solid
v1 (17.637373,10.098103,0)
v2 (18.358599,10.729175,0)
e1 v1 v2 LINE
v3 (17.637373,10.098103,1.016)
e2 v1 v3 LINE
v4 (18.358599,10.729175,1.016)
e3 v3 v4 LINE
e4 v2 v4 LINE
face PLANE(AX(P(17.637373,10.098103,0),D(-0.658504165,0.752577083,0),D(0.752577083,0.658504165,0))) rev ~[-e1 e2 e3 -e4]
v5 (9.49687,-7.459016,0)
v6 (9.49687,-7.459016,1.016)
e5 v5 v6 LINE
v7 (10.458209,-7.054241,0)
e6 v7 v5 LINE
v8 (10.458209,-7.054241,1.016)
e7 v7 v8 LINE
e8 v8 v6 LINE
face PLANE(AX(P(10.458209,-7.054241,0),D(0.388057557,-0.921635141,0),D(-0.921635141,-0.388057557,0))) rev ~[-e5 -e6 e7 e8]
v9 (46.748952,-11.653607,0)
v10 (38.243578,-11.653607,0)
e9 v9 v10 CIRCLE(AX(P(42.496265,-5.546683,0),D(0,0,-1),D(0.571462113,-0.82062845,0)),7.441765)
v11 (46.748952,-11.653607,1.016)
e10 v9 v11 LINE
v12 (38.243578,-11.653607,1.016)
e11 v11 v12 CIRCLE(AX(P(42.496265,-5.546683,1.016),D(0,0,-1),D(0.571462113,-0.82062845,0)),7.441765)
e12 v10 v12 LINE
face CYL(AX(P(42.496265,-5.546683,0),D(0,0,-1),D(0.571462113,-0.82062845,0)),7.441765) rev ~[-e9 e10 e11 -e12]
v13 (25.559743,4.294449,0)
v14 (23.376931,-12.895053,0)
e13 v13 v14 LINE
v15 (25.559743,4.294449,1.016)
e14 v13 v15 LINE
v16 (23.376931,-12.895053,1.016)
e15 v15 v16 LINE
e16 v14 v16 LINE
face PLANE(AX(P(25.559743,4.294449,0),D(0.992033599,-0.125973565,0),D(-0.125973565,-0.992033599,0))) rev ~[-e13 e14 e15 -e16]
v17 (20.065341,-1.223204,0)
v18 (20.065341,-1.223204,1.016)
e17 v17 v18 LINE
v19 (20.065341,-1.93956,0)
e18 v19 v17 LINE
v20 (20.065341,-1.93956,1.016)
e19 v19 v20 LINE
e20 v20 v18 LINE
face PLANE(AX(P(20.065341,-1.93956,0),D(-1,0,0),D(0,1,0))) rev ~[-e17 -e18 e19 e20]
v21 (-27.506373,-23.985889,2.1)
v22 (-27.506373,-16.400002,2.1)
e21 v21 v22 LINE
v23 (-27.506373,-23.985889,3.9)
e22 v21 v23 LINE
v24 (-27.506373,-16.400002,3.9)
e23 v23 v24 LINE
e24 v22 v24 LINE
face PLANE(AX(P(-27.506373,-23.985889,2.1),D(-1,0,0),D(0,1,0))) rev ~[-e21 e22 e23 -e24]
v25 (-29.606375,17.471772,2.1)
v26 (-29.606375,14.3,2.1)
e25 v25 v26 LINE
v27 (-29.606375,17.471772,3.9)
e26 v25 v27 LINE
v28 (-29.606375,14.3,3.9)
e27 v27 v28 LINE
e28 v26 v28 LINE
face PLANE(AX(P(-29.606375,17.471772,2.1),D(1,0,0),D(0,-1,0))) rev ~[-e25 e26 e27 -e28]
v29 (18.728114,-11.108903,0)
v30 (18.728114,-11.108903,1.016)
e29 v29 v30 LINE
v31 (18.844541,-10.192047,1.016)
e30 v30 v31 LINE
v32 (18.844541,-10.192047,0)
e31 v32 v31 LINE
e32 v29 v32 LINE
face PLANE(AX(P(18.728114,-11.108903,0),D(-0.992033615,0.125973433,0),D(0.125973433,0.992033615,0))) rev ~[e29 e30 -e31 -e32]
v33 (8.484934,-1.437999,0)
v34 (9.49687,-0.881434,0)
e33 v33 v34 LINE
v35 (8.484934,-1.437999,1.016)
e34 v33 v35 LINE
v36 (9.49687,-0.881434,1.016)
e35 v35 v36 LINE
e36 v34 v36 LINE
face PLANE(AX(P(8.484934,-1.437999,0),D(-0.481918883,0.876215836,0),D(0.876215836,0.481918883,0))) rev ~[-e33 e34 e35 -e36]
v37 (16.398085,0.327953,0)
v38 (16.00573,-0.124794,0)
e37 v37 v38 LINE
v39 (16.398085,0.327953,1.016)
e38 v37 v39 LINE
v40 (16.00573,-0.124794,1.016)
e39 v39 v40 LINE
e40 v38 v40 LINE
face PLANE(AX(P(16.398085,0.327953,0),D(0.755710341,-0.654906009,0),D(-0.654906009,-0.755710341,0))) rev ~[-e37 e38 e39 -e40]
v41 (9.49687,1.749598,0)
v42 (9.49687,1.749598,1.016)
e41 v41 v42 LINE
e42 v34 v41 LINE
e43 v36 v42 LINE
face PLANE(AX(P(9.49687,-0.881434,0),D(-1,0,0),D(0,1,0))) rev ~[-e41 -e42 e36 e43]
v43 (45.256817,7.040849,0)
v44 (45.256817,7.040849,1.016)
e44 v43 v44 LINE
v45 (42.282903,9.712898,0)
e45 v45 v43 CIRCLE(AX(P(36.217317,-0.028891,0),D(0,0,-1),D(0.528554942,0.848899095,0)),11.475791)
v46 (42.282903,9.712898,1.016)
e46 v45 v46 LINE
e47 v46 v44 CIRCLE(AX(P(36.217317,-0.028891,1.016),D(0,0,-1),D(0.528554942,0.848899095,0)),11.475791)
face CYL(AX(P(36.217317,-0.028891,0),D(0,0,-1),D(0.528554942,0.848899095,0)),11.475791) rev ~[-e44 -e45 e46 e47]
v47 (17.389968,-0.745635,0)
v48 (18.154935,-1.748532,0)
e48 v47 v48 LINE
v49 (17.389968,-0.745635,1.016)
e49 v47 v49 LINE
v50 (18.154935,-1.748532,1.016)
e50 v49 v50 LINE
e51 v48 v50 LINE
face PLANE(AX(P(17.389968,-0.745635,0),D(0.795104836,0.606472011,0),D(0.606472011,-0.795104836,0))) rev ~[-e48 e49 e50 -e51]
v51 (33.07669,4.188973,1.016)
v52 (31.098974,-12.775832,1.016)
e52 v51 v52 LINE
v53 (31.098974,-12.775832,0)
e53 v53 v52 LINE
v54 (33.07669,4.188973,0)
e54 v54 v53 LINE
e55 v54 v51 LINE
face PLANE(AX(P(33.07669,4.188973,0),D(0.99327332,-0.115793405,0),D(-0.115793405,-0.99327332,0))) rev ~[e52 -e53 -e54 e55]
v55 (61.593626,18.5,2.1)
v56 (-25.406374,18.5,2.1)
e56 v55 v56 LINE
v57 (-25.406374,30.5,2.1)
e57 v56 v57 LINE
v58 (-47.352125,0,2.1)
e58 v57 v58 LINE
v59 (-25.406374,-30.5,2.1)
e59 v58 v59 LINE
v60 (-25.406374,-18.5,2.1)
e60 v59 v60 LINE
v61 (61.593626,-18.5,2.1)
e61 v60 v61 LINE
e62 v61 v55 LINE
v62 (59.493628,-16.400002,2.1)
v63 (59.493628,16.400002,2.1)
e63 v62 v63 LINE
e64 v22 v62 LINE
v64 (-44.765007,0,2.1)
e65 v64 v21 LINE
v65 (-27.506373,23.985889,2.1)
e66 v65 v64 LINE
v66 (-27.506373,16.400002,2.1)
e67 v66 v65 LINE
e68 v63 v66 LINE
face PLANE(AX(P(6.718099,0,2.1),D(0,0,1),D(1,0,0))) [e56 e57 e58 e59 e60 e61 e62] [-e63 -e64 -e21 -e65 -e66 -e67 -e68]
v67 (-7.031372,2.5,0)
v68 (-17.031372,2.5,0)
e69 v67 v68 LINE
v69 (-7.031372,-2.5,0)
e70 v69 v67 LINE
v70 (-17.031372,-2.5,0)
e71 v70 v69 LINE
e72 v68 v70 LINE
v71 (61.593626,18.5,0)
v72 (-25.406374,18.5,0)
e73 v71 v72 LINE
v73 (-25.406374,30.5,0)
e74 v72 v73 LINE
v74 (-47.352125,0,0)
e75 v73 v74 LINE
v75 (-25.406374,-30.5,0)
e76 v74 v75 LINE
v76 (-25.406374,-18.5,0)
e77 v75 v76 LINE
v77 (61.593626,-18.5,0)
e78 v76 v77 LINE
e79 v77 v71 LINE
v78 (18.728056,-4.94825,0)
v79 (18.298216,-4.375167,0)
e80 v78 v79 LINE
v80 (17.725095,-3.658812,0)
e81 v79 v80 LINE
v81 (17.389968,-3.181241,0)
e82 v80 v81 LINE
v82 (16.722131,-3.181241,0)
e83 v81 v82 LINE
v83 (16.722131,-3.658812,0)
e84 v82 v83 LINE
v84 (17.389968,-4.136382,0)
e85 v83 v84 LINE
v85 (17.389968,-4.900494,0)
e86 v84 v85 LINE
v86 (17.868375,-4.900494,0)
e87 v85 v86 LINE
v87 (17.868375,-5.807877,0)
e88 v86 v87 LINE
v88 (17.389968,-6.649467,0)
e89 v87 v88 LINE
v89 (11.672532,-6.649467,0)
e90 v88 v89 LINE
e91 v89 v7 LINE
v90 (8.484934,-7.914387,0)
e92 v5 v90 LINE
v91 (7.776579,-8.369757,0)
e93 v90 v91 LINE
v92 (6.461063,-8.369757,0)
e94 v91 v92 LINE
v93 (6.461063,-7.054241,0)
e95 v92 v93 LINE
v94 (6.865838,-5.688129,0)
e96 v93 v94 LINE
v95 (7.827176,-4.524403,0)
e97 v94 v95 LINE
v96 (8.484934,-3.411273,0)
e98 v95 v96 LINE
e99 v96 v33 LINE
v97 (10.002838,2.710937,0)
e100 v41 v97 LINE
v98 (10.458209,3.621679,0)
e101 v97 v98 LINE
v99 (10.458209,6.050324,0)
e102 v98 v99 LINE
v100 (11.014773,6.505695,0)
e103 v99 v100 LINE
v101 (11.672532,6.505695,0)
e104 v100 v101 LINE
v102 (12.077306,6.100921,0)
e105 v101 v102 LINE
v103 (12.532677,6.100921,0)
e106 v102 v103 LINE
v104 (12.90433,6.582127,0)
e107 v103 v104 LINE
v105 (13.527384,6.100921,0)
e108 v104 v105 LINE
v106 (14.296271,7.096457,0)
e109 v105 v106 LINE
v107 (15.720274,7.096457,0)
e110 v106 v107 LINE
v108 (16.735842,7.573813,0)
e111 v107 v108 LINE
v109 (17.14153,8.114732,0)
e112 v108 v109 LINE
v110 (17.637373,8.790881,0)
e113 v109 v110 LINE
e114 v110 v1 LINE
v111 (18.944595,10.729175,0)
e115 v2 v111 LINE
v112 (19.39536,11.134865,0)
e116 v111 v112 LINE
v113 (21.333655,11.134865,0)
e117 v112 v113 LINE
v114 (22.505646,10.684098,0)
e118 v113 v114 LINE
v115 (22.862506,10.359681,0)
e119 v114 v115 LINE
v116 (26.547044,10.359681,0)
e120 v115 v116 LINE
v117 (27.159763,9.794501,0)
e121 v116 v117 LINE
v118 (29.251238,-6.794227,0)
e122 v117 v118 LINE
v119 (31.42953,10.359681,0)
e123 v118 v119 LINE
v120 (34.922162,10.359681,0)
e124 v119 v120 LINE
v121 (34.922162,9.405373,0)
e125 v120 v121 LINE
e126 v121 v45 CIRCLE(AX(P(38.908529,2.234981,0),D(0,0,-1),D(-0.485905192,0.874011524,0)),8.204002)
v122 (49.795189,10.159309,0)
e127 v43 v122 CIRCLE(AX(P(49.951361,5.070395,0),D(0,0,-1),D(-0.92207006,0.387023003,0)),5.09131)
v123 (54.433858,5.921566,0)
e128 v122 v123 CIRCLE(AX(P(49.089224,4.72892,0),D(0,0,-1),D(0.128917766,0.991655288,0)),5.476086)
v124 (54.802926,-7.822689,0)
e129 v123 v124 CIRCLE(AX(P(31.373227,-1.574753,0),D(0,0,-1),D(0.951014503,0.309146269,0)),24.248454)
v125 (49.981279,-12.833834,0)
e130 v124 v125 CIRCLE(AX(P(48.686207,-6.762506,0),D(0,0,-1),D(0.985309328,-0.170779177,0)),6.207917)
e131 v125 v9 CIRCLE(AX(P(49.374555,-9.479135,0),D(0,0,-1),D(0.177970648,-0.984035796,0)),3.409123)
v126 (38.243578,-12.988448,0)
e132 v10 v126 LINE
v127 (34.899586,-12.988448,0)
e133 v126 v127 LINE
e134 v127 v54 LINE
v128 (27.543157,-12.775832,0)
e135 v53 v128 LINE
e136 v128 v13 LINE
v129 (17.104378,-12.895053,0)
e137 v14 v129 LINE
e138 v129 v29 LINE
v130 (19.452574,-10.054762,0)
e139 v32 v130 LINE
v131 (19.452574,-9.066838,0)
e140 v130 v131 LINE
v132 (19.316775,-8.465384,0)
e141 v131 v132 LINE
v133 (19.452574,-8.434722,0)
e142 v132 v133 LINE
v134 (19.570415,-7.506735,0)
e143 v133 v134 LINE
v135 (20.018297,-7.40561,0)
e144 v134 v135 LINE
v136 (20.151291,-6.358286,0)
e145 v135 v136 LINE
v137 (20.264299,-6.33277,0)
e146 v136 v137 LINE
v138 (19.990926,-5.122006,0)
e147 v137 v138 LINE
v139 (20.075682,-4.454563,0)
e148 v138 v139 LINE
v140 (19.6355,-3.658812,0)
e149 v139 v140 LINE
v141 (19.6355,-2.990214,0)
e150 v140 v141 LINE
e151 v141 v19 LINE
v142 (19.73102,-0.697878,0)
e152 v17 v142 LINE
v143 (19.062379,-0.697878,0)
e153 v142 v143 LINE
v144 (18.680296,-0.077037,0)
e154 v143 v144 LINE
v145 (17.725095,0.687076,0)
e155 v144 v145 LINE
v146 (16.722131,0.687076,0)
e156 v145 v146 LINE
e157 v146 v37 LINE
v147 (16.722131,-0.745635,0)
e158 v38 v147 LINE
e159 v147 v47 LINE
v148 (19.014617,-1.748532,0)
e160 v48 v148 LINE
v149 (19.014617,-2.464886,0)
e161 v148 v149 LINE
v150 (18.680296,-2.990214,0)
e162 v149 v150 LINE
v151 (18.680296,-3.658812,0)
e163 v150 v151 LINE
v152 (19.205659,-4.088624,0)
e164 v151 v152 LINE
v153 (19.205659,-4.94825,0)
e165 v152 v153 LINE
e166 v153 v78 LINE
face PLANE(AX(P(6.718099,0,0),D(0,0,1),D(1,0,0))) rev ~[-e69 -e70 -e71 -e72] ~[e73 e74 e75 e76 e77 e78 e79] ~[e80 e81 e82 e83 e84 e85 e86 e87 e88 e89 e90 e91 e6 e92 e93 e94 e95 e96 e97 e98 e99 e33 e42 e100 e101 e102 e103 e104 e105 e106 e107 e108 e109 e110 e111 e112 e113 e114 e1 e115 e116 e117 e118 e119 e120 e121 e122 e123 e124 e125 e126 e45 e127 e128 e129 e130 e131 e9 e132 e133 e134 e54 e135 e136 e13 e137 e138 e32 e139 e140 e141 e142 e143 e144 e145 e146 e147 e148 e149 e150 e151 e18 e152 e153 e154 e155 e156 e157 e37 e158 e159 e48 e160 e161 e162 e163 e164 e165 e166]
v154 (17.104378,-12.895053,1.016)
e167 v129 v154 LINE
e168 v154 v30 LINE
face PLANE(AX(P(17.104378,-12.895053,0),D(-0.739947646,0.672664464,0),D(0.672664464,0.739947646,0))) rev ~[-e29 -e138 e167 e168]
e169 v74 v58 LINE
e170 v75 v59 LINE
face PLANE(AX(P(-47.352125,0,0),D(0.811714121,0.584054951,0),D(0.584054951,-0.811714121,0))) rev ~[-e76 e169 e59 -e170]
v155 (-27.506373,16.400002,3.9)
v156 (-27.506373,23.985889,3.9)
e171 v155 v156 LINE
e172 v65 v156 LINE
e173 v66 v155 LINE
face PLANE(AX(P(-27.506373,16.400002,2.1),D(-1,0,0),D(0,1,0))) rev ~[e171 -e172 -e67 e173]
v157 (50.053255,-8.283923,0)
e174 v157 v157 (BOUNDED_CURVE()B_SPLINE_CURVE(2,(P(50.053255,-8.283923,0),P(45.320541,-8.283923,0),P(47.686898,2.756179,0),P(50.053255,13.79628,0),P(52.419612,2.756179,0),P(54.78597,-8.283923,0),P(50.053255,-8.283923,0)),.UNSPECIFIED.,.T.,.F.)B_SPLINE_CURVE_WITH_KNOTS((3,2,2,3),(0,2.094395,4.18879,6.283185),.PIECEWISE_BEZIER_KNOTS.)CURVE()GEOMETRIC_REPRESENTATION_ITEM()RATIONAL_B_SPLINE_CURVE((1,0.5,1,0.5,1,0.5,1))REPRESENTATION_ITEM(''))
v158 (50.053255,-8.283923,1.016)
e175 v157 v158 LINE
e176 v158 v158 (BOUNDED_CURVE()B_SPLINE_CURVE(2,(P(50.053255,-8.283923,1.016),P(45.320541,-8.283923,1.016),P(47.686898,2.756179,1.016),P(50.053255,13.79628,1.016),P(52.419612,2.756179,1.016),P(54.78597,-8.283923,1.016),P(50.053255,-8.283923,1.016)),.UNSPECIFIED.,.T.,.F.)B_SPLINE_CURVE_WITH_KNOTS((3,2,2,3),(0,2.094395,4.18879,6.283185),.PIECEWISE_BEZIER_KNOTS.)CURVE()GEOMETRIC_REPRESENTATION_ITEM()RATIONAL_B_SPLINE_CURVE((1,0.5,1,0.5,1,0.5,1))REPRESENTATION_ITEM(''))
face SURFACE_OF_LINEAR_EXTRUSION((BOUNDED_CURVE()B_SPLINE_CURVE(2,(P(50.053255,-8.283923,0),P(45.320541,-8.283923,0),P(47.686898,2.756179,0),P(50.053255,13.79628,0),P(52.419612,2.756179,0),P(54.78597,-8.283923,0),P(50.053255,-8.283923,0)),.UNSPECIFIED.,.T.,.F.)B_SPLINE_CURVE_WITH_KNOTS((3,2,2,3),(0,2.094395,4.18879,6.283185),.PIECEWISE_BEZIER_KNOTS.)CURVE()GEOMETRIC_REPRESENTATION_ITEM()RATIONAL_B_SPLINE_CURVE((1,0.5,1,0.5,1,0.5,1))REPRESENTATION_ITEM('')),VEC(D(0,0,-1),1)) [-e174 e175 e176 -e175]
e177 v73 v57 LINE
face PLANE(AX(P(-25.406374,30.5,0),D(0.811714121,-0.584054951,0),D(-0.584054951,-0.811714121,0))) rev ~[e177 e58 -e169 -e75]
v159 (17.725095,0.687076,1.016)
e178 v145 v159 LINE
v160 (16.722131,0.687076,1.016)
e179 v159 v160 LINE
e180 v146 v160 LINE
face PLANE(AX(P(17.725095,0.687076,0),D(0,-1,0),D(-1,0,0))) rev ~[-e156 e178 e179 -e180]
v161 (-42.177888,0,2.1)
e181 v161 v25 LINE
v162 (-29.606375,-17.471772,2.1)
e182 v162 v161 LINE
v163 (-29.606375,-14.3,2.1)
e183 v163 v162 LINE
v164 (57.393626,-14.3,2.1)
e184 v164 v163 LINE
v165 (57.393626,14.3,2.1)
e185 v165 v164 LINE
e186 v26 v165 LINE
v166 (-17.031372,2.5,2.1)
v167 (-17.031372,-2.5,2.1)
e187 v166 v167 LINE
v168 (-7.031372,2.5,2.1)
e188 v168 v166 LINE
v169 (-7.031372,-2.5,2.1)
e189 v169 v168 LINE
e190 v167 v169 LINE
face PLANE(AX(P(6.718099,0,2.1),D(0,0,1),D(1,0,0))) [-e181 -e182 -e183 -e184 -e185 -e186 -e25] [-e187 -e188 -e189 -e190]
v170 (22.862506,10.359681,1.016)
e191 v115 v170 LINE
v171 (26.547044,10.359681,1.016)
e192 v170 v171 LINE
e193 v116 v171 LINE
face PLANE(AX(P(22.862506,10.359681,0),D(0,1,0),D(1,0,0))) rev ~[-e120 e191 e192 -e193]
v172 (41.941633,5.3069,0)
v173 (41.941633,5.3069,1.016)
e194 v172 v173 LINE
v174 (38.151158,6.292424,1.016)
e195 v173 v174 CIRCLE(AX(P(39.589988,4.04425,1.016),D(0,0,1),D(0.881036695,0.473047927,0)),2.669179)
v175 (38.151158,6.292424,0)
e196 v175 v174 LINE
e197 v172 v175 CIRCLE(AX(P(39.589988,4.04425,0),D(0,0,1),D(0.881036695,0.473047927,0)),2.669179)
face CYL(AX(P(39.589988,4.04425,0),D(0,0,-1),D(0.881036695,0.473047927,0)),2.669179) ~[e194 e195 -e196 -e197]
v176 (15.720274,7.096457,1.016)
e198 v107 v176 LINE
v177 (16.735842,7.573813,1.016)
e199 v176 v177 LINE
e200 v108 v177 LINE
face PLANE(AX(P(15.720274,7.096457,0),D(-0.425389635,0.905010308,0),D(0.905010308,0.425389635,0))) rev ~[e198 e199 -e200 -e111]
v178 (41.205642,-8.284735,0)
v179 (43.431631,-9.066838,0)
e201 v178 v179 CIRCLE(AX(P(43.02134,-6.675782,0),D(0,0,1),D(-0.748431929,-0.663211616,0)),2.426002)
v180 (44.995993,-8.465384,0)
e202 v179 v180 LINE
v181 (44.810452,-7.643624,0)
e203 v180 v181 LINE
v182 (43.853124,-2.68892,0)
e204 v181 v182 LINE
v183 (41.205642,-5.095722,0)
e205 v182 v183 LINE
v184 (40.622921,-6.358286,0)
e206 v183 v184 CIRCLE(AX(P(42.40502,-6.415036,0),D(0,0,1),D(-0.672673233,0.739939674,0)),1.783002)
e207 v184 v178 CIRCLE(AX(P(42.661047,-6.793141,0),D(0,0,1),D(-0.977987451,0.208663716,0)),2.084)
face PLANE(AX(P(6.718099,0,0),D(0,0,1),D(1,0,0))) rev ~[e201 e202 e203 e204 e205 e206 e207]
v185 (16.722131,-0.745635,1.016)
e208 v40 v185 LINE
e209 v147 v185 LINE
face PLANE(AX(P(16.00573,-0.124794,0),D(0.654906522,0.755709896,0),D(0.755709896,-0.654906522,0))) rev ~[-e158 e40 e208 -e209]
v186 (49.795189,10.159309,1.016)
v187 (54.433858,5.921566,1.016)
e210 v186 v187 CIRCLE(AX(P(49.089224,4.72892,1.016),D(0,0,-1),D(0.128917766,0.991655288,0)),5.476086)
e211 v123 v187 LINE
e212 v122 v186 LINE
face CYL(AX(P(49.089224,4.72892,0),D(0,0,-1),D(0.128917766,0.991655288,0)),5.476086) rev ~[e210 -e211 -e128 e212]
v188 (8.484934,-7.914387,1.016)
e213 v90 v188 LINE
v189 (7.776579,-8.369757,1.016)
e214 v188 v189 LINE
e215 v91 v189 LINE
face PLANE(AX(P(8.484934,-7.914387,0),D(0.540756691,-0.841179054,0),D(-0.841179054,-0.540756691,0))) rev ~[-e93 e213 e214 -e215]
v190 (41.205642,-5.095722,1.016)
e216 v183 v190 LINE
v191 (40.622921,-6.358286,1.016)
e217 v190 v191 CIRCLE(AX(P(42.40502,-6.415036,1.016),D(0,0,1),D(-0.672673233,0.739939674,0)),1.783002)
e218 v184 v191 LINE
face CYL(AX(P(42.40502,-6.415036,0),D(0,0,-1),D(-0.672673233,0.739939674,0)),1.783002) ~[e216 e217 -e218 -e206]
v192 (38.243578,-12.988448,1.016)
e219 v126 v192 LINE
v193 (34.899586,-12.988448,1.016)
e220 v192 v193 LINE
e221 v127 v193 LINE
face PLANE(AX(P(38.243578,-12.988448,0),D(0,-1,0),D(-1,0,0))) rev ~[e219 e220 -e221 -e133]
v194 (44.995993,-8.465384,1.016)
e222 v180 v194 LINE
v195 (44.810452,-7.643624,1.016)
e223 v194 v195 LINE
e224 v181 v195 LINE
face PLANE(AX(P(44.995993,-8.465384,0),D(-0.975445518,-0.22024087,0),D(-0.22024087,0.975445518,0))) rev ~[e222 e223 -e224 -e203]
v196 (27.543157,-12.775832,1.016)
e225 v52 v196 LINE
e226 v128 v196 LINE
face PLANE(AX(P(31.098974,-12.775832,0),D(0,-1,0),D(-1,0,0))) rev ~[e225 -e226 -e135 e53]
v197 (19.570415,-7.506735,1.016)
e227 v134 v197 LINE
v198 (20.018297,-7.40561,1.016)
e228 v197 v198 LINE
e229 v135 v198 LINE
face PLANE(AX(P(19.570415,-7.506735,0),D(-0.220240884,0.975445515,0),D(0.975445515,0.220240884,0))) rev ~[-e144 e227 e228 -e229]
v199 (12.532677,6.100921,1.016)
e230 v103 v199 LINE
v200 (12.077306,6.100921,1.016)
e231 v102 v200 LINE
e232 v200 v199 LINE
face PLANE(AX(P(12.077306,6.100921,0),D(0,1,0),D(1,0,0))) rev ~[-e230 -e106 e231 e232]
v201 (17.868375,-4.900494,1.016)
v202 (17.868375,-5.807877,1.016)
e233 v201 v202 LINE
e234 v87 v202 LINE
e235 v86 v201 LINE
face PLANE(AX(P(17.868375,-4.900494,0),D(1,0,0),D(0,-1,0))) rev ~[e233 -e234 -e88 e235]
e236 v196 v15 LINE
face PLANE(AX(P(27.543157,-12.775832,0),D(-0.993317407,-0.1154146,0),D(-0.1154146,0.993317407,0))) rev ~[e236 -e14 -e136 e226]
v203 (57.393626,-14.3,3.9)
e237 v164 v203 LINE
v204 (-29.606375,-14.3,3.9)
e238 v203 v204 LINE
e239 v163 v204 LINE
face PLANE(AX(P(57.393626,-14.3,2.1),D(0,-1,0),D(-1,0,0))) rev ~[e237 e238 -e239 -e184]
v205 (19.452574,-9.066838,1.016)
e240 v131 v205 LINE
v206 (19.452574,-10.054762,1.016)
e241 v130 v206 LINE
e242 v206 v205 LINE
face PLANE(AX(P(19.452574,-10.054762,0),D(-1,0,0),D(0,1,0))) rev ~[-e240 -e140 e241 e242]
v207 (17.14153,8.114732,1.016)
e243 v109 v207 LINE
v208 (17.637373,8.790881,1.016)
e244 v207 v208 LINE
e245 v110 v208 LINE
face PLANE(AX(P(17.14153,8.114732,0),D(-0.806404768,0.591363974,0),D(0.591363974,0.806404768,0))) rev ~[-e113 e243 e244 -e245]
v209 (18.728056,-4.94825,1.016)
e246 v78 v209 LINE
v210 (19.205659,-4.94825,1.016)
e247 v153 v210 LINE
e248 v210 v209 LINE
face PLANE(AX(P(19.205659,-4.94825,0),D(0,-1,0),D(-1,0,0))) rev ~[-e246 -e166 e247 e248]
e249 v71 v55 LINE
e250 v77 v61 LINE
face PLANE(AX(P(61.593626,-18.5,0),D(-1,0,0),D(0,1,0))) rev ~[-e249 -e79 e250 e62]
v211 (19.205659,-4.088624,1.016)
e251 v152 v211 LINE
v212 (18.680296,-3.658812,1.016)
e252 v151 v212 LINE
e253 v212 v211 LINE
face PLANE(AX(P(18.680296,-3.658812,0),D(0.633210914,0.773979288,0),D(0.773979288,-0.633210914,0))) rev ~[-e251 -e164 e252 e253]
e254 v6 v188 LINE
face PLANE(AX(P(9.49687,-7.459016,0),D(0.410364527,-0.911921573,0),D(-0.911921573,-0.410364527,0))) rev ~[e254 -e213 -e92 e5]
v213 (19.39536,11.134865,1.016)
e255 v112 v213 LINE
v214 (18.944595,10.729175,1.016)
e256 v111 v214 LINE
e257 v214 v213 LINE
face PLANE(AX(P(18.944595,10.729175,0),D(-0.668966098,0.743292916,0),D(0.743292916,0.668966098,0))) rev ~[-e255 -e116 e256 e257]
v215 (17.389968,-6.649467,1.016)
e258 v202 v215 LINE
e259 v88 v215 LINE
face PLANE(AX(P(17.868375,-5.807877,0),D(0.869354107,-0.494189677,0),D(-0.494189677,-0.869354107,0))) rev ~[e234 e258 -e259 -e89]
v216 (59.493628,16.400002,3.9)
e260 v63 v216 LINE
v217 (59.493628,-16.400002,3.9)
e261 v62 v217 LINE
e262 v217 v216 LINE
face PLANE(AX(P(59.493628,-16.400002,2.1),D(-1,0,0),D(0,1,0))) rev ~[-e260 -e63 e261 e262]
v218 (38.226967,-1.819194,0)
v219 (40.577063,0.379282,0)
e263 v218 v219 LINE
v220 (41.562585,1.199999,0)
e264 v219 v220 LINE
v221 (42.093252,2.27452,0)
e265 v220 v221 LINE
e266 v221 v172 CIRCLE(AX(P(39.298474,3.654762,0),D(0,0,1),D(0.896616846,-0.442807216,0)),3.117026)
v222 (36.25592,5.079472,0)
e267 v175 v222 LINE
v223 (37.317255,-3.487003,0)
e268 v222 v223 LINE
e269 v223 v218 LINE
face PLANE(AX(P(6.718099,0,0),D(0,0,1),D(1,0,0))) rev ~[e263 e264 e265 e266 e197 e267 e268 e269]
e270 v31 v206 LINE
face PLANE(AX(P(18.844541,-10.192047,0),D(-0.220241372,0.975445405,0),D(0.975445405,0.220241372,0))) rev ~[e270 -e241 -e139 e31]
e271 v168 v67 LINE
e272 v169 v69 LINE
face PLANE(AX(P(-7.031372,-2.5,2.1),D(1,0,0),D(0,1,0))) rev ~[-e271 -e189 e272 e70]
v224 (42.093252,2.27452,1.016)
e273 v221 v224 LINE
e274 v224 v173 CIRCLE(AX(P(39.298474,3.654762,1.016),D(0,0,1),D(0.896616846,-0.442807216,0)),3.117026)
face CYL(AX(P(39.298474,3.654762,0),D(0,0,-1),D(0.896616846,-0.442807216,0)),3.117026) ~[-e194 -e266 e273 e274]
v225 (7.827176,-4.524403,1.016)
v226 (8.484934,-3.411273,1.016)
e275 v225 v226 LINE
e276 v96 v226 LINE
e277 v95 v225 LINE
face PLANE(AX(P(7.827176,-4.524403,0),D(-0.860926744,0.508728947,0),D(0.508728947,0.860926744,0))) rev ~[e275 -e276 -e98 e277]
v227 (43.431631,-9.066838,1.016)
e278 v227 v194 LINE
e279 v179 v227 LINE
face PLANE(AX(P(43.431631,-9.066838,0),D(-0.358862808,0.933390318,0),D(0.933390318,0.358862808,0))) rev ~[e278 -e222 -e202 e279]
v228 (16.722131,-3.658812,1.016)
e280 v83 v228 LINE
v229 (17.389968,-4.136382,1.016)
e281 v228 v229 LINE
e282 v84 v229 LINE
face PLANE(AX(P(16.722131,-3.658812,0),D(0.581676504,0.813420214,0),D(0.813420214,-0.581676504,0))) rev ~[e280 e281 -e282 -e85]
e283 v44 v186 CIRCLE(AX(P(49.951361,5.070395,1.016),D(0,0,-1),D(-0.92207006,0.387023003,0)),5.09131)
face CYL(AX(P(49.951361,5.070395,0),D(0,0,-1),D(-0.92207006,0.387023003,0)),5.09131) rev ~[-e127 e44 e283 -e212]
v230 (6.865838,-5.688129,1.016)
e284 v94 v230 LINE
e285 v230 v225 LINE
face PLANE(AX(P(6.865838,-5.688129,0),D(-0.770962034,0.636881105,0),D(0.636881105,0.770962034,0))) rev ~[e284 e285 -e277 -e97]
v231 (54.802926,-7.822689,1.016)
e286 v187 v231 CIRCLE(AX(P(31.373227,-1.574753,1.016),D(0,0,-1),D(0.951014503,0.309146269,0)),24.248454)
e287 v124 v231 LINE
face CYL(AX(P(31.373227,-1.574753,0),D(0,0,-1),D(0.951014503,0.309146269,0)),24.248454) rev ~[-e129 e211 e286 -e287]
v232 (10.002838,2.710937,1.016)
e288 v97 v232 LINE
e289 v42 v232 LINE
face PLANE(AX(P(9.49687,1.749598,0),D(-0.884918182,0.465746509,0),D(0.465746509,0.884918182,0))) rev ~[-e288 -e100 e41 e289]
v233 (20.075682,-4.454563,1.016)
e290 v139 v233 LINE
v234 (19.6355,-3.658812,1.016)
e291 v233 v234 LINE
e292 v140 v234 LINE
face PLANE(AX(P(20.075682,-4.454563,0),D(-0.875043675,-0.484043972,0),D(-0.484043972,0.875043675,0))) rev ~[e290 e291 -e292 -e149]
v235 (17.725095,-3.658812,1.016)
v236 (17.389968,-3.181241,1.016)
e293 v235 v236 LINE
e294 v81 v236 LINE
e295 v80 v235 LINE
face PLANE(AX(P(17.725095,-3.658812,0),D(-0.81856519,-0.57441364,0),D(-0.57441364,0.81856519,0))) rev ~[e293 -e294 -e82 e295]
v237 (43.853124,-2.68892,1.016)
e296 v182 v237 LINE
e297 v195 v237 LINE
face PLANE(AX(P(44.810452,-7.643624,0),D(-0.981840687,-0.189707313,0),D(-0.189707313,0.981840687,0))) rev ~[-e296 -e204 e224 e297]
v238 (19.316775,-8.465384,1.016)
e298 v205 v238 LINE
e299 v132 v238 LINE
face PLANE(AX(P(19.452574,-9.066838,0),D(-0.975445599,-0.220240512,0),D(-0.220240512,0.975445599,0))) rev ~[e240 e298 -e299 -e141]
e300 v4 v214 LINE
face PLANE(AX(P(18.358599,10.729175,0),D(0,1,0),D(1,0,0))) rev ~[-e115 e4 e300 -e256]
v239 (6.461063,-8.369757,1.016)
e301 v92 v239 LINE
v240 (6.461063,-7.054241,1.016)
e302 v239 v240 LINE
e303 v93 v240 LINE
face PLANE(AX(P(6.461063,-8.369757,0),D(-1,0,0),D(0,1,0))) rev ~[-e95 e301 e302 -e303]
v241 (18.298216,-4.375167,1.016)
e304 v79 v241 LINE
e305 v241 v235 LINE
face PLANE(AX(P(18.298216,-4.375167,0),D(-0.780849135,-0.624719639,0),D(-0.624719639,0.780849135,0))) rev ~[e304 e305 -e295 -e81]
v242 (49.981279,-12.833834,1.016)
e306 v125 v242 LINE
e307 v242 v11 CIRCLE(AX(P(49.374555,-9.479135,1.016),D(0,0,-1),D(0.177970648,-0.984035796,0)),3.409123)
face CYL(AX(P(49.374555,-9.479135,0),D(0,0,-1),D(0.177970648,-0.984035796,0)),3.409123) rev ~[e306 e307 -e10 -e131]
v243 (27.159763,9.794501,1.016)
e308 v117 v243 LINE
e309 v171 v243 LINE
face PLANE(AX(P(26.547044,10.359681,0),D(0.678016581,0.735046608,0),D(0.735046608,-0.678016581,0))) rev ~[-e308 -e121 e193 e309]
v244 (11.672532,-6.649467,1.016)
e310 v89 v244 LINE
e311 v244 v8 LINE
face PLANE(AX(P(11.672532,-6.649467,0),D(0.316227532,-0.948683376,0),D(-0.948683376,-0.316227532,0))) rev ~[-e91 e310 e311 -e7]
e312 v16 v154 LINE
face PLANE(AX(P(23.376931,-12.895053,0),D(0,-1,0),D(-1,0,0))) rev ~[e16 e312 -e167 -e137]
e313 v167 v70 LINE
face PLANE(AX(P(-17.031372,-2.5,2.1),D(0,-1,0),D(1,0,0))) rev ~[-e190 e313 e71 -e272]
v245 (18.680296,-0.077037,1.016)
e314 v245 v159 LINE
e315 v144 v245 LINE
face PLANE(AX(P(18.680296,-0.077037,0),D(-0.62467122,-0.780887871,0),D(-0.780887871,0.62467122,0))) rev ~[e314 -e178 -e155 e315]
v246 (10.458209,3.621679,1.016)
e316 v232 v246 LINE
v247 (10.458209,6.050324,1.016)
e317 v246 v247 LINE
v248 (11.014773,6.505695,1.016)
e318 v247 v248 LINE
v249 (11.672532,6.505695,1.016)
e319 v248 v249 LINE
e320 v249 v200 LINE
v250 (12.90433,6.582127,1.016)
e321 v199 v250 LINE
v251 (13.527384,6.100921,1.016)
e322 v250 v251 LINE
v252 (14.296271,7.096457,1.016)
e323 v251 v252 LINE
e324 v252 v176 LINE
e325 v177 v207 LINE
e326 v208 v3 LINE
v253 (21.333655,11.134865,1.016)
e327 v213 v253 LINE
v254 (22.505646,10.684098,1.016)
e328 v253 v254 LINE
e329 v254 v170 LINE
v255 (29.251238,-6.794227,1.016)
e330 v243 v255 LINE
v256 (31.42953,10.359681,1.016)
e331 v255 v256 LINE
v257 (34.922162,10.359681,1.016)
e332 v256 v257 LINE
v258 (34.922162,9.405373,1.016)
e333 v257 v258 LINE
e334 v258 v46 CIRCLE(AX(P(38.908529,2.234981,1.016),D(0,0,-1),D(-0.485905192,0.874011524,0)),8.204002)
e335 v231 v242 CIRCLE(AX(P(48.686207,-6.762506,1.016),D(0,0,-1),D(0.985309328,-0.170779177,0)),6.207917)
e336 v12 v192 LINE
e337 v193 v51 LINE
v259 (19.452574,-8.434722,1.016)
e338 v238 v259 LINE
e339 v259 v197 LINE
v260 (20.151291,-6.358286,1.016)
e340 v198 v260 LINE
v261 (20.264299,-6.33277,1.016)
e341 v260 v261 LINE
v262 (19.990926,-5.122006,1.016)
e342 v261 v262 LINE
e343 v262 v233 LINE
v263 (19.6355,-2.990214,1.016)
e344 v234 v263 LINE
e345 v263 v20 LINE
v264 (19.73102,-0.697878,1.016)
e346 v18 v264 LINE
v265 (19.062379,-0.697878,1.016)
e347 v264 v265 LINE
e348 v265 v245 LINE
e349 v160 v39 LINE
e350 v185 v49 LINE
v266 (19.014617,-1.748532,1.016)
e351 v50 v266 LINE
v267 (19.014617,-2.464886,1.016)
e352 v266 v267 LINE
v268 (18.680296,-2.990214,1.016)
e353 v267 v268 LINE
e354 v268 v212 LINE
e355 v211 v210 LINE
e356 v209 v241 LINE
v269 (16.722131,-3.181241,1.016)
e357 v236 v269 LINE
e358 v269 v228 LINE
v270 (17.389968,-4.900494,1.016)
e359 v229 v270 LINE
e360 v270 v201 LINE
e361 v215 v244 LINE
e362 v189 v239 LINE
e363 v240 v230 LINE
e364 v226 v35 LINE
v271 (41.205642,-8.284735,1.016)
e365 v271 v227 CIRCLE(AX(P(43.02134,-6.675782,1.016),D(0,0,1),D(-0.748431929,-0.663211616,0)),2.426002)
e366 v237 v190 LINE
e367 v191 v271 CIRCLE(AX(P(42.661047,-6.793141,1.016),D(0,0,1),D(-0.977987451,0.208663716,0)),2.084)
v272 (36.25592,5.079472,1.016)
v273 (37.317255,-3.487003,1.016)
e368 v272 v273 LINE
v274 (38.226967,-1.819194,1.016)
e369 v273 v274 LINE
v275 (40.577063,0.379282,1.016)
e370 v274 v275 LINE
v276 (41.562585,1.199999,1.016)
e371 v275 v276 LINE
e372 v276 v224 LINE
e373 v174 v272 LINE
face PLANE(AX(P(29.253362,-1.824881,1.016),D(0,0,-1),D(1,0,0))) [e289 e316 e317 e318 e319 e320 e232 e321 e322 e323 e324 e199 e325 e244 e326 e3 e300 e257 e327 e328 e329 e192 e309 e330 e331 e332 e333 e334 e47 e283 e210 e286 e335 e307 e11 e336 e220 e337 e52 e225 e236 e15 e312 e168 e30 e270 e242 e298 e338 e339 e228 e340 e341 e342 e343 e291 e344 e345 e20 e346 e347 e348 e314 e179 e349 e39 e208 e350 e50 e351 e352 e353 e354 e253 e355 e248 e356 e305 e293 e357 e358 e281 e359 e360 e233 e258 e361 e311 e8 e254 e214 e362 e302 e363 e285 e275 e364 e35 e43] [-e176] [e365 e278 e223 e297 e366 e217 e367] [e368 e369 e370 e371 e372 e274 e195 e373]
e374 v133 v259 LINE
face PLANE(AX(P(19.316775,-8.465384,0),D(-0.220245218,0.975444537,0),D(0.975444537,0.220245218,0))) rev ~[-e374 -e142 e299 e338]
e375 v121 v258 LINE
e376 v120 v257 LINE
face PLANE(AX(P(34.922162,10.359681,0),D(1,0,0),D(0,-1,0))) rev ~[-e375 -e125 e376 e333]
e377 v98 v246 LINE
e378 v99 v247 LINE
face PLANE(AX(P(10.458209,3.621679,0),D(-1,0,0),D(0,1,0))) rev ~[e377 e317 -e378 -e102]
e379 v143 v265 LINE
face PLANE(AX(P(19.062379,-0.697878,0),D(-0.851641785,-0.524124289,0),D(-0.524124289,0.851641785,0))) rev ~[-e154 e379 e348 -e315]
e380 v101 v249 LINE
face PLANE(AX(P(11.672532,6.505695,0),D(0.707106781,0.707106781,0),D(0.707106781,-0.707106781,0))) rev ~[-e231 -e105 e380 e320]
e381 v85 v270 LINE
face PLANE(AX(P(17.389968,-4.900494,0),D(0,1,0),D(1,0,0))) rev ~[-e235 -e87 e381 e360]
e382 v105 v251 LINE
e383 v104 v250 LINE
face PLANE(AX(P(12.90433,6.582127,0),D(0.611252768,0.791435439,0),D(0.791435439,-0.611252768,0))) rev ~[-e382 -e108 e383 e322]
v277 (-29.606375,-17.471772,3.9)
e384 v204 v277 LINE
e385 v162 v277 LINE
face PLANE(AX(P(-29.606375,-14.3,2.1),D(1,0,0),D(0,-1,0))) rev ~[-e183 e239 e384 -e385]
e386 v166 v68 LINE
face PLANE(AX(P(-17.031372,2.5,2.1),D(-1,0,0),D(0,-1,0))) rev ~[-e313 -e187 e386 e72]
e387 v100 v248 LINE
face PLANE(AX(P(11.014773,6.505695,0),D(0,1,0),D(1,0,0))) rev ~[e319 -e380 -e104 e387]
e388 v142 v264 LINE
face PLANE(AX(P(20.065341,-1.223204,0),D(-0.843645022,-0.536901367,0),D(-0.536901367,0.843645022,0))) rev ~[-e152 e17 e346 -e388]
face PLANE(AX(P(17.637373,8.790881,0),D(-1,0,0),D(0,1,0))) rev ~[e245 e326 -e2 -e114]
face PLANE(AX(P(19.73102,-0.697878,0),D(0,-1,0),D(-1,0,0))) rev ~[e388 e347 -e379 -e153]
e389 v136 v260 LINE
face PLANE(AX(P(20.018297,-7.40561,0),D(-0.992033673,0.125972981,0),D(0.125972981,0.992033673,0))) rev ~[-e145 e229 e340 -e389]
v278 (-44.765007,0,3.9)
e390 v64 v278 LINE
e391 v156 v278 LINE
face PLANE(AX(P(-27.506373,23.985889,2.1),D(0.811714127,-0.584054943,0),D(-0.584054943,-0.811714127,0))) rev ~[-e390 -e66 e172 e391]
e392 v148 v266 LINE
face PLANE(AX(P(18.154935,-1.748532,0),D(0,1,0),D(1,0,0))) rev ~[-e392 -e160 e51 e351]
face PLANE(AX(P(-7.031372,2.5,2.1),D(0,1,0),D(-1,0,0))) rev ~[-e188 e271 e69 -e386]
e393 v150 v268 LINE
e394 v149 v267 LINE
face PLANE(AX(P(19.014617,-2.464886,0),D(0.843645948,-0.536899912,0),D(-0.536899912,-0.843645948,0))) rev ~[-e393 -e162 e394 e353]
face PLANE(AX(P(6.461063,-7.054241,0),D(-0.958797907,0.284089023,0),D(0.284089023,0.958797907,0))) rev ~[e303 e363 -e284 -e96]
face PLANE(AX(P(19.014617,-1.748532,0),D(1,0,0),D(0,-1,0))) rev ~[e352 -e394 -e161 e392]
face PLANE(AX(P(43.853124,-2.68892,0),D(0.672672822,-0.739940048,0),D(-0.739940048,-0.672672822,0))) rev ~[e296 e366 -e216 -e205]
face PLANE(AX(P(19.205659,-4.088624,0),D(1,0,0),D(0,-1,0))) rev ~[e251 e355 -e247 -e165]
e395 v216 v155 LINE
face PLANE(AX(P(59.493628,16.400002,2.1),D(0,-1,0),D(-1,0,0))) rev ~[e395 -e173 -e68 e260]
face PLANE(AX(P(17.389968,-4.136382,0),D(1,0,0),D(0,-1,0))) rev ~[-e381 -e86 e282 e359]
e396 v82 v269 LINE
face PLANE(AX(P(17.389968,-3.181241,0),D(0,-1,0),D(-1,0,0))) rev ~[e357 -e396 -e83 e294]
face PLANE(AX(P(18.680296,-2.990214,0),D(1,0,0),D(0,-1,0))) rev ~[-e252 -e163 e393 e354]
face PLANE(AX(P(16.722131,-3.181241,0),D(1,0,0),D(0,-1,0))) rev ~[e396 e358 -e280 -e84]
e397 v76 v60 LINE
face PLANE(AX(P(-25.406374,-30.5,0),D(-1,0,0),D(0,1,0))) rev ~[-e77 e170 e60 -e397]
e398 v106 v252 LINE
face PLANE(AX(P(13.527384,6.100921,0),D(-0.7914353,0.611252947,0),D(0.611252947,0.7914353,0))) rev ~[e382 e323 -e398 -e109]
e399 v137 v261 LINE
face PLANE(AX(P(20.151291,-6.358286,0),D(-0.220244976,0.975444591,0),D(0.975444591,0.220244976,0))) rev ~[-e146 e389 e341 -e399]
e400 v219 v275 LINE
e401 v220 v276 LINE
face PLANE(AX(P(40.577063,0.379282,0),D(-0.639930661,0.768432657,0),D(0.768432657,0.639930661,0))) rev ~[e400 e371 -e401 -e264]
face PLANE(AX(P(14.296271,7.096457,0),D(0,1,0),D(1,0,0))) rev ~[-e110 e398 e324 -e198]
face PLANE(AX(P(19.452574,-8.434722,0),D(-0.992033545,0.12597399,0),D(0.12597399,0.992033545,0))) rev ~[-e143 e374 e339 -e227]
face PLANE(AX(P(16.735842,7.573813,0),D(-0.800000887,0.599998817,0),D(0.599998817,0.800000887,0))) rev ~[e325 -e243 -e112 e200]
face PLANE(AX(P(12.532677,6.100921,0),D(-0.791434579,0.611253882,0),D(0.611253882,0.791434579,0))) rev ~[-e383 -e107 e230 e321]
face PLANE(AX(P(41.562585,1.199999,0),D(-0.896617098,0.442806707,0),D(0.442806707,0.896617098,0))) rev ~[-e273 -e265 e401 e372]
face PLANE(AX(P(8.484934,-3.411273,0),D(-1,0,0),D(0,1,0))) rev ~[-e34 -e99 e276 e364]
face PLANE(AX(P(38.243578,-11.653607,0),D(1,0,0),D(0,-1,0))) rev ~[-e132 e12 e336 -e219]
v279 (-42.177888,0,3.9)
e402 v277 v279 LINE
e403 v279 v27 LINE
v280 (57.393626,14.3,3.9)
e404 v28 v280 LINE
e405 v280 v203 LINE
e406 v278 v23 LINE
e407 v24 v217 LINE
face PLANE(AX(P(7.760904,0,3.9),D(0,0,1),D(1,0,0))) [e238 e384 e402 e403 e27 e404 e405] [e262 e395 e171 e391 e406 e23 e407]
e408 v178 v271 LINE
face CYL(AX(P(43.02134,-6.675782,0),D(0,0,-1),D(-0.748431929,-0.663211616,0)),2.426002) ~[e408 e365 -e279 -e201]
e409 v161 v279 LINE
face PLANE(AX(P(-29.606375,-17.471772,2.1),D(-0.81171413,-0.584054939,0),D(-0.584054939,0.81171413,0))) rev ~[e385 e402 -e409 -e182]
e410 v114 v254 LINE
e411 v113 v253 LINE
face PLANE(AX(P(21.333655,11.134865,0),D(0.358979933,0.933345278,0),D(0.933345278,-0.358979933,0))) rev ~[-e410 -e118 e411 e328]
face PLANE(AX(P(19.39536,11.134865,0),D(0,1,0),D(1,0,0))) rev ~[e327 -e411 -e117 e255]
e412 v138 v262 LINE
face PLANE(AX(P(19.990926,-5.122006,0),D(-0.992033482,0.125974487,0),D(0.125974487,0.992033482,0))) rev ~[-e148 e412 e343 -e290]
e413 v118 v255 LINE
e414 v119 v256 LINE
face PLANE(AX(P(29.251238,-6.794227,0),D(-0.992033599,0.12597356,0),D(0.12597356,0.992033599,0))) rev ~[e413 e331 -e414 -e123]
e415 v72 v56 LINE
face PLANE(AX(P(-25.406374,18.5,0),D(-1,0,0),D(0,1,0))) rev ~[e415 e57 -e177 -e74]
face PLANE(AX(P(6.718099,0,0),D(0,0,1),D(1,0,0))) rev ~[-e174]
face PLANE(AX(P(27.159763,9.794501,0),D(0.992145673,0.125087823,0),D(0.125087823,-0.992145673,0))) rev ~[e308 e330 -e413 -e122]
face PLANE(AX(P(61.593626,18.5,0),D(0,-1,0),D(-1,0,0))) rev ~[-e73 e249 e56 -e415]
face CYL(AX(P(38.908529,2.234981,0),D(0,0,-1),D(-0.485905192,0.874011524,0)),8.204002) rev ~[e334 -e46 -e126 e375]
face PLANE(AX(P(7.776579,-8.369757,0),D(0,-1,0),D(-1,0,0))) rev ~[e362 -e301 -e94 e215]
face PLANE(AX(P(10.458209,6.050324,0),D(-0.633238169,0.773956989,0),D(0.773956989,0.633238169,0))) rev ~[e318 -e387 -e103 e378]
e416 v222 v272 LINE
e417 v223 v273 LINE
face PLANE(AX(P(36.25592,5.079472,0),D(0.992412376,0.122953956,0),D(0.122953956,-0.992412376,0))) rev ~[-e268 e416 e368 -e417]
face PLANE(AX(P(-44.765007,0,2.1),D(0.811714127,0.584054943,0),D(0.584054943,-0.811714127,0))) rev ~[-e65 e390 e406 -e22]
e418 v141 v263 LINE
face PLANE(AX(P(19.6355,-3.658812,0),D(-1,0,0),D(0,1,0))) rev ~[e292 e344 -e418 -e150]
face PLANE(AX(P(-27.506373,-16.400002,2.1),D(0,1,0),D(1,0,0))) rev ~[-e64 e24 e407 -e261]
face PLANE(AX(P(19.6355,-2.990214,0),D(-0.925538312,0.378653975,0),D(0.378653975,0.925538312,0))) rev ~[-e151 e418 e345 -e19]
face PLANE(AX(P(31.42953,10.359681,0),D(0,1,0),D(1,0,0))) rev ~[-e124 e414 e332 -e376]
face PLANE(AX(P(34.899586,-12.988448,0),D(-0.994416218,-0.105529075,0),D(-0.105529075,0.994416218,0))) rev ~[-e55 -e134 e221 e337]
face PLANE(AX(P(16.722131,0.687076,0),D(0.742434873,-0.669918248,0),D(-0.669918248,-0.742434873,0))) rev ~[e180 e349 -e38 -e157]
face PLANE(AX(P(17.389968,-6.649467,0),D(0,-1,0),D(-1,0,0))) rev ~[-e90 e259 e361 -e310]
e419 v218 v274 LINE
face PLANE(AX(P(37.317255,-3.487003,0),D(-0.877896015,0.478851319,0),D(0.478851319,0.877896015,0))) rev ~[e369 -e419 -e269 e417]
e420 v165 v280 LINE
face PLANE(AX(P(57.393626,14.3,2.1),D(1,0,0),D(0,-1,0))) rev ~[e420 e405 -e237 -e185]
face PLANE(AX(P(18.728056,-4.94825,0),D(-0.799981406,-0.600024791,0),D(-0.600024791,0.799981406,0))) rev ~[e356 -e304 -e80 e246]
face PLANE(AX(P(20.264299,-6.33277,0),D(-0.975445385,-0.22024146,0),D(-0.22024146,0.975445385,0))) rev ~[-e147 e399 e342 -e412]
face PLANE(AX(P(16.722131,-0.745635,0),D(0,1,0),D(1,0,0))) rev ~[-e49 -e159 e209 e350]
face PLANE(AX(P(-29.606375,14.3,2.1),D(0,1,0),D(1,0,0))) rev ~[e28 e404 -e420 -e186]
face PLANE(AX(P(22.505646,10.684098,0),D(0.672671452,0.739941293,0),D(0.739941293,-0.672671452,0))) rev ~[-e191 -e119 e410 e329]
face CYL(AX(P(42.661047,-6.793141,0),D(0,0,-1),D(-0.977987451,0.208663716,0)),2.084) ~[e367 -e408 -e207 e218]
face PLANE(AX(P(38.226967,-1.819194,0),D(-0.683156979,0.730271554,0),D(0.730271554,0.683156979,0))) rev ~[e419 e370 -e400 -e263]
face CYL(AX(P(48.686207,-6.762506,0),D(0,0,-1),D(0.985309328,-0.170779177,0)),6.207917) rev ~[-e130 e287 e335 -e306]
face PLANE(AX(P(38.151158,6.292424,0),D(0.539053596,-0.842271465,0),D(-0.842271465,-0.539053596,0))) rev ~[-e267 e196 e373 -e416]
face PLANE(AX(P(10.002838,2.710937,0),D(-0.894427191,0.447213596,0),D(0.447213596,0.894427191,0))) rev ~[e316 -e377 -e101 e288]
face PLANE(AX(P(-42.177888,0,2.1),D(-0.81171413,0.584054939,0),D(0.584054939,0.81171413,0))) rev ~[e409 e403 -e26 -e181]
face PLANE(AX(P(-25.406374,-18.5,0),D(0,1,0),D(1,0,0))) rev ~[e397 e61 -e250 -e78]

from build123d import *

# Parameters (mm, degrees)
F1_DEPTH = 2.1
F3_DEPTH = 1.8
F5_DEPTH = 8
F7_DEPTH = 1.016


with BuildPart() as f1:
    # F0 (on Top) → F1 (new body)
    with BuildSketch(Plane.XY):
        Polygon((61.593626, -18.5), (61.593626, 18.5), (-25.406374, 18.5), (-25.406374, 30.5), (-47.352125, 0), (-25.406374, -30.5), (-25.406374, -18.5), align=None)
    extrude(amount=F1_DEPTH)

    # F2 (on face) → F3 (join)
    with BuildSketch(Plane.XY.offset(2.1)):
        Polygon((59.493628, 16.400002), (-27.506373, 16.400002), (-27.506373, 23.985889), (-44.765007, 0), (-27.506373, -23.985889), (-27.506373, -16.400002), (59.493628, -16.400002), align=None)
        Polygon((-29.606375, 17.471772), (-29.606375, 14.3), (57.393626, 14.3), (57.393626, -14.3), (-29.606375, -14.3), (-29.606375, -17.471772), (-42.177888, 0), align=None, mode=Mode.SUBTRACT)
    extrude(amount=F3_DEPTH)

    # F4 (on face) → F5 (cut)
    with BuildSketch(Plane.XY.offset(2.1)):
        Polygon((-7.031372, -2.5), (-7.031372, 0), (-7.031372, 2.5), (-17.031372, 2.5), (-17.031372, -2.5), align=None)
    extrude(amount=-F5_DEPTH, mode=Mode.SUBTRACT)

    # F6 (on face) → F7 (cut)
    with BuildSketch(Plane(origin=(0, 0, 0), x_dir=(1, 0, 0), z_dir=(0, 0, -1))):
        with BuildLine():
            Line((17.868375, 5.807877), (17.389968, 6.649467))
            Line((17.389968, 6.649467), (15.720274, 6.649467))
            Line((15.720274, 6.649467), (11.672532, 6.649467))
            Line((11.672532, 6.649467), (10.458209, 7.054241))
            Line((10.458209, 7.054241), (9.49687, 7.459016))
            Line((9.49687, 7.459016), (8.484934, 7.914387))
            Line((8.484934, 7.914387), (7.776579, 8.369757))
            Line((7.776579, 8.369757), (6.461063, 8.369757))
            Line((6.461063, 8.369757), (6.461063, 7.054241))
            Line((6.461063, 7.054241), (6.865838, 5.688129))
            Line((6.865838, 5.688129), (7.827176, 4.524403))
            Line((7.827176, 4.524403), (8.484934, 3.411273))
            Line((8.484934, 3.411273), (8.484934, 1.437999))
            Line((8.484934, 1.437999), (9.49687, 0.881434))
            Line((9.49687, 0.881434), (9.49687, -1.749598))
            Line((9.49687, -1.749598), (10.002838, -2.710937))
            Line((10.002838, -2.710937), (10.458209, -3.621679))
            Line((10.458209, -3.621679), (10.458209, -6.050324))
            Line((10.458209, -6.050324), (11.014773, -6.505695))
            Line((11.014773, -6.505695), (11.672532, -6.505695))
            Line((11.672532, -6.505695), (12.077306, -6.100921))
            Line((12.077306, -6.100921), (12.532677, -6.100921))
            Line((12.532677, -6.100921), (12.90433, -6.582127))
            Line((12.90433, -6.582127), (13.527384, -6.100921))
            Line((13.527384, -6.100921), (14.296271, -7.096457))
            Line((14.296271, -7.096457), (15.720274, -7.096457))
            Line((15.720274, -7.096457), (16.735842, -7.573813))
            Line((16.735842, -7.573813), (17.14153, -8.114732))
            Line((17.14153, -8.114732), (17.637373, -8.790881))
            Line((17.637373, -8.790881), (17.637373, -10.098103))
            Line((17.637373, -10.098103), (18.358599, -10.729175))
            Line((18.358599, -10.729175), (18.944595, -10.729175))
            Line((18.944595, -10.729175), (19.39536, -11.134865))
            Line((19.39536, -11.134865), (21.333655, -11.134865))
            Line((21.333655, -11.134865), (22.505646, -10.684098))
            Line((22.505646, -10.684098), (22.862506, -10.359681))
            Line((22.862506, -10.359681), (26.547044, -10.359681))
            Line((26.547044, -10.359681), (27.159763, -9.794501))
            Line((27.159763, -9.794501), (29.251238, 6.794227))
            Line((29.251238, 6.794227), (31.42953, -10.359681))
            Line((31.42953, -10.359681), (34.922162, -10.359681))
            Line((34.922162, -10.359681), (34.922162, -9.405373))
            ThreePointArc((34.922162, -9.405373), (38.566072, -10.431832), (42.282903, -9.712898))
            ThreePointArc((42.282903, -9.712898), (43.887119, -8.50738), (45.256817, -7.040849))
            ThreePointArc((45.256817, -7.040849), (47.068037, -9.266569), (49.795189, -10.159309))
            ThreePointArc((49.795189, -10.159309), (52.782739, -8.771872), (54.433858, -5.921566))
            ThreePointArc((54.433858, -5.921566), (55.612943, 0.923855), (54.802926, 7.822689))
            ThreePointArc((54.802926, 7.822689), (53.159635, 11.066769), (49.981279, 12.833834))
            ThreePointArc((49.981279, 12.833834), (48.205281, 12.681465), (46.748952, 11.653607))
            ThreePointArc((46.748952, 11.653607), (42.496265, 12.988448), (38.243578, 11.653607))
            Line((38.243578, 11.653607), (38.243578, 12.988448))
            Line((38.243578, 12.988448), (34.899586, 12.988448))
            Line((34.899586, 12.988448), (33.07669, -4.188973))
            Line((33.07669, -4.188973), (31.098974, 12.775832))
            Line((31.098974, 12.775832), (27.543157, 12.775832))
            Line((27.543157, 12.775832), (25.559743, -4.294449))
            Line((25.559743, -4.294449), (23.376931, 12.895053))
            Line((23.376931, 12.895053), (17.104378, 12.895053))
            Line((17.104378, 12.895053), (18.728114, 11.108903))
            Line((18.728114, 11.108903), (18.844541, 10.192047))
            Line((18.844541, 10.192047), (19.452574, 10.054762))
            Line((19.452574, 10.054762), (19.452574, 9.066838))
            Line((19.452574, 9.066838), (19.316775, 8.465384))
            Line((19.316775, 8.465384), (19.452574, 8.434722))
            Line((19.452574, 8.434722), (19.570415, 7.506735))
            Line((19.570415, 7.506735), (20.018297, 7.40561))
            Line((20.018297, 7.40561), (20.151291, 6.358286))
            Line((20.151291, 6.358286), (20.264299, 6.33277))
            Line((20.264299, 6.33277), (19.990926, 5.122006))
            Line((19.990926, 5.122006), (20.075682, 4.454563))
            Line((20.075682, 4.454563), (19.6355, 3.658812))
            Line((19.6355, 3.658812), (19.6355, 2.990214))
            Line((19.6355, 2.990214), (20.065341, 1.93956))
            Line((20.065341, 1.93956), (20.065341, 1.223204))
            Line((20.065341, 1.223204), (19.73102, 0.697878))
            Line((19.73102, 0.697878), (19.062379, 0.697878))
            Line((19.062379, 0.697878), (18.680296, 0.077037))
            Line((18.680296, 0.077037), (17.725095, -0.687076))
            Line((17.725095, -0.687076), (16.722131, -0.687076))
            Line((16.722131, -0.687076), (16.398085, -0.327953))
            Line((16.398085, -0.327953), (16.00573, 0.124794))
            Line((16.00573, 0.124794), (16.722131, 0.745635))
            Line((16.722131, 0.745635), (17.389968, 0.745635))
            Line((17.389968, 0.745635), (18.154935, 1.748532))
            Line((18.154935, 1.748532), (19.014617, 1.748532))
            Line((19.014617, 1.748532), (19.014617, 2.464886))
            Line((19.014617, 2.464886), (18.680296, 2.990214))
            Line((18.680296, 2.990214), (18.680296, 3.658812))
            Line((18.680296, 3.658812), (19.205659, 4.088624))
            Line((19.205659, 4.088624), (19.205659, 4.94825))
            Line((19.205659, 4.94825), (18.728056, 4.94825))
            Line((18.728056, 4.94825), (18.298216, 4.375167))
            Line((18.298216, 4.375167), (17.725095, 3.658812))
            Line((17.725095, 3.658812), (17.389968, 3.181241))
            Line((17.389968, 3.181241), (16.722131, 3.181241))
            Line((16.722131, 3.181241), (16.722131, 3.658812))
            Line((16.722131, 3.658812), (17.389968, 4.136382))
            Line((17.389968, 4.136382), (17.389968, 4.900494))
            Line((17.389968, 4.900494), (17.868375, 4.900494))
            Line((17.868375, 4.900494), (17.868375, 5.807877))
        make_face()
        with BuildLine():
            Line((36.25592, -5.079472), (37.317255, 3.487003))
            Line((37.317255, 3.487003), (38.226967, 1.819194))
            Line((38.226967, 1.819194), (40.577063, -0.379282))
            Line((40.577063, -0.379282), (41.562585, -1.199999))
            Line((41.562585, -1.199999), (42.093252, -2.27452))
            ThreePointArc((42.093252, -2.27452), (42.411611, -3.810418), (41.941633, -5.3069))
            ThreePointArc((41.941633, -5.3069), (40.261644, -6.627542), (38.151158, -6.292424))
            Line((38.151158, -6.292424), (36.25592, -5.079472))
        make_face(mode=Mode.SUBTRACT)
        with BuildLine():
            Line((43.431631, 9.066838), (44.995993, 8.465384))
            Line((44.995993, 8.465384), (44.810452, 7.643624))
            Line((44.810452, 7.643624), (43.853124, 2.68892))
            Line((43.853124, 2.68892), (41.205642, 5.095722))
            ThreePointArc((41.205642, 5.095722), (40.786126, 5.667855), (40.622921, 6.358286))
            ThreePointArc((40.622921, 6.358286), (40.666306, 7.396519), (41.205642, 8.284735))
            ThreePointArc((41.205642, 8.284735), (42.217155, 8.964619), (43.431631, 9.066838))
        make_face(mode=Mode.SUBTRACT)
        with BuildLine():
            add(Edge.make_bspline(
                [(50.053255, 8.283923), (45.320541, 8.283923), (47.686898, -2.756179), (50.053255, -13.79628), (52.419612, -2.756179), (54.78597, 8.283923), (50.053255, 8.283923)],
                knots=[0, 0, 0, 2.094395, 2.094395, 4.18879, 4.18879, 6.283185, 6.283185, 6.283185], degree=2, weights=[1, 0.5, 1, 0.5, 1, 0.5, 1]))
        make_face(mode=Mode.SUBTRACT)
    extrude(amount=-F7_DEPTH, mode=Mode.SUBTRACT)


solid = f1.part
